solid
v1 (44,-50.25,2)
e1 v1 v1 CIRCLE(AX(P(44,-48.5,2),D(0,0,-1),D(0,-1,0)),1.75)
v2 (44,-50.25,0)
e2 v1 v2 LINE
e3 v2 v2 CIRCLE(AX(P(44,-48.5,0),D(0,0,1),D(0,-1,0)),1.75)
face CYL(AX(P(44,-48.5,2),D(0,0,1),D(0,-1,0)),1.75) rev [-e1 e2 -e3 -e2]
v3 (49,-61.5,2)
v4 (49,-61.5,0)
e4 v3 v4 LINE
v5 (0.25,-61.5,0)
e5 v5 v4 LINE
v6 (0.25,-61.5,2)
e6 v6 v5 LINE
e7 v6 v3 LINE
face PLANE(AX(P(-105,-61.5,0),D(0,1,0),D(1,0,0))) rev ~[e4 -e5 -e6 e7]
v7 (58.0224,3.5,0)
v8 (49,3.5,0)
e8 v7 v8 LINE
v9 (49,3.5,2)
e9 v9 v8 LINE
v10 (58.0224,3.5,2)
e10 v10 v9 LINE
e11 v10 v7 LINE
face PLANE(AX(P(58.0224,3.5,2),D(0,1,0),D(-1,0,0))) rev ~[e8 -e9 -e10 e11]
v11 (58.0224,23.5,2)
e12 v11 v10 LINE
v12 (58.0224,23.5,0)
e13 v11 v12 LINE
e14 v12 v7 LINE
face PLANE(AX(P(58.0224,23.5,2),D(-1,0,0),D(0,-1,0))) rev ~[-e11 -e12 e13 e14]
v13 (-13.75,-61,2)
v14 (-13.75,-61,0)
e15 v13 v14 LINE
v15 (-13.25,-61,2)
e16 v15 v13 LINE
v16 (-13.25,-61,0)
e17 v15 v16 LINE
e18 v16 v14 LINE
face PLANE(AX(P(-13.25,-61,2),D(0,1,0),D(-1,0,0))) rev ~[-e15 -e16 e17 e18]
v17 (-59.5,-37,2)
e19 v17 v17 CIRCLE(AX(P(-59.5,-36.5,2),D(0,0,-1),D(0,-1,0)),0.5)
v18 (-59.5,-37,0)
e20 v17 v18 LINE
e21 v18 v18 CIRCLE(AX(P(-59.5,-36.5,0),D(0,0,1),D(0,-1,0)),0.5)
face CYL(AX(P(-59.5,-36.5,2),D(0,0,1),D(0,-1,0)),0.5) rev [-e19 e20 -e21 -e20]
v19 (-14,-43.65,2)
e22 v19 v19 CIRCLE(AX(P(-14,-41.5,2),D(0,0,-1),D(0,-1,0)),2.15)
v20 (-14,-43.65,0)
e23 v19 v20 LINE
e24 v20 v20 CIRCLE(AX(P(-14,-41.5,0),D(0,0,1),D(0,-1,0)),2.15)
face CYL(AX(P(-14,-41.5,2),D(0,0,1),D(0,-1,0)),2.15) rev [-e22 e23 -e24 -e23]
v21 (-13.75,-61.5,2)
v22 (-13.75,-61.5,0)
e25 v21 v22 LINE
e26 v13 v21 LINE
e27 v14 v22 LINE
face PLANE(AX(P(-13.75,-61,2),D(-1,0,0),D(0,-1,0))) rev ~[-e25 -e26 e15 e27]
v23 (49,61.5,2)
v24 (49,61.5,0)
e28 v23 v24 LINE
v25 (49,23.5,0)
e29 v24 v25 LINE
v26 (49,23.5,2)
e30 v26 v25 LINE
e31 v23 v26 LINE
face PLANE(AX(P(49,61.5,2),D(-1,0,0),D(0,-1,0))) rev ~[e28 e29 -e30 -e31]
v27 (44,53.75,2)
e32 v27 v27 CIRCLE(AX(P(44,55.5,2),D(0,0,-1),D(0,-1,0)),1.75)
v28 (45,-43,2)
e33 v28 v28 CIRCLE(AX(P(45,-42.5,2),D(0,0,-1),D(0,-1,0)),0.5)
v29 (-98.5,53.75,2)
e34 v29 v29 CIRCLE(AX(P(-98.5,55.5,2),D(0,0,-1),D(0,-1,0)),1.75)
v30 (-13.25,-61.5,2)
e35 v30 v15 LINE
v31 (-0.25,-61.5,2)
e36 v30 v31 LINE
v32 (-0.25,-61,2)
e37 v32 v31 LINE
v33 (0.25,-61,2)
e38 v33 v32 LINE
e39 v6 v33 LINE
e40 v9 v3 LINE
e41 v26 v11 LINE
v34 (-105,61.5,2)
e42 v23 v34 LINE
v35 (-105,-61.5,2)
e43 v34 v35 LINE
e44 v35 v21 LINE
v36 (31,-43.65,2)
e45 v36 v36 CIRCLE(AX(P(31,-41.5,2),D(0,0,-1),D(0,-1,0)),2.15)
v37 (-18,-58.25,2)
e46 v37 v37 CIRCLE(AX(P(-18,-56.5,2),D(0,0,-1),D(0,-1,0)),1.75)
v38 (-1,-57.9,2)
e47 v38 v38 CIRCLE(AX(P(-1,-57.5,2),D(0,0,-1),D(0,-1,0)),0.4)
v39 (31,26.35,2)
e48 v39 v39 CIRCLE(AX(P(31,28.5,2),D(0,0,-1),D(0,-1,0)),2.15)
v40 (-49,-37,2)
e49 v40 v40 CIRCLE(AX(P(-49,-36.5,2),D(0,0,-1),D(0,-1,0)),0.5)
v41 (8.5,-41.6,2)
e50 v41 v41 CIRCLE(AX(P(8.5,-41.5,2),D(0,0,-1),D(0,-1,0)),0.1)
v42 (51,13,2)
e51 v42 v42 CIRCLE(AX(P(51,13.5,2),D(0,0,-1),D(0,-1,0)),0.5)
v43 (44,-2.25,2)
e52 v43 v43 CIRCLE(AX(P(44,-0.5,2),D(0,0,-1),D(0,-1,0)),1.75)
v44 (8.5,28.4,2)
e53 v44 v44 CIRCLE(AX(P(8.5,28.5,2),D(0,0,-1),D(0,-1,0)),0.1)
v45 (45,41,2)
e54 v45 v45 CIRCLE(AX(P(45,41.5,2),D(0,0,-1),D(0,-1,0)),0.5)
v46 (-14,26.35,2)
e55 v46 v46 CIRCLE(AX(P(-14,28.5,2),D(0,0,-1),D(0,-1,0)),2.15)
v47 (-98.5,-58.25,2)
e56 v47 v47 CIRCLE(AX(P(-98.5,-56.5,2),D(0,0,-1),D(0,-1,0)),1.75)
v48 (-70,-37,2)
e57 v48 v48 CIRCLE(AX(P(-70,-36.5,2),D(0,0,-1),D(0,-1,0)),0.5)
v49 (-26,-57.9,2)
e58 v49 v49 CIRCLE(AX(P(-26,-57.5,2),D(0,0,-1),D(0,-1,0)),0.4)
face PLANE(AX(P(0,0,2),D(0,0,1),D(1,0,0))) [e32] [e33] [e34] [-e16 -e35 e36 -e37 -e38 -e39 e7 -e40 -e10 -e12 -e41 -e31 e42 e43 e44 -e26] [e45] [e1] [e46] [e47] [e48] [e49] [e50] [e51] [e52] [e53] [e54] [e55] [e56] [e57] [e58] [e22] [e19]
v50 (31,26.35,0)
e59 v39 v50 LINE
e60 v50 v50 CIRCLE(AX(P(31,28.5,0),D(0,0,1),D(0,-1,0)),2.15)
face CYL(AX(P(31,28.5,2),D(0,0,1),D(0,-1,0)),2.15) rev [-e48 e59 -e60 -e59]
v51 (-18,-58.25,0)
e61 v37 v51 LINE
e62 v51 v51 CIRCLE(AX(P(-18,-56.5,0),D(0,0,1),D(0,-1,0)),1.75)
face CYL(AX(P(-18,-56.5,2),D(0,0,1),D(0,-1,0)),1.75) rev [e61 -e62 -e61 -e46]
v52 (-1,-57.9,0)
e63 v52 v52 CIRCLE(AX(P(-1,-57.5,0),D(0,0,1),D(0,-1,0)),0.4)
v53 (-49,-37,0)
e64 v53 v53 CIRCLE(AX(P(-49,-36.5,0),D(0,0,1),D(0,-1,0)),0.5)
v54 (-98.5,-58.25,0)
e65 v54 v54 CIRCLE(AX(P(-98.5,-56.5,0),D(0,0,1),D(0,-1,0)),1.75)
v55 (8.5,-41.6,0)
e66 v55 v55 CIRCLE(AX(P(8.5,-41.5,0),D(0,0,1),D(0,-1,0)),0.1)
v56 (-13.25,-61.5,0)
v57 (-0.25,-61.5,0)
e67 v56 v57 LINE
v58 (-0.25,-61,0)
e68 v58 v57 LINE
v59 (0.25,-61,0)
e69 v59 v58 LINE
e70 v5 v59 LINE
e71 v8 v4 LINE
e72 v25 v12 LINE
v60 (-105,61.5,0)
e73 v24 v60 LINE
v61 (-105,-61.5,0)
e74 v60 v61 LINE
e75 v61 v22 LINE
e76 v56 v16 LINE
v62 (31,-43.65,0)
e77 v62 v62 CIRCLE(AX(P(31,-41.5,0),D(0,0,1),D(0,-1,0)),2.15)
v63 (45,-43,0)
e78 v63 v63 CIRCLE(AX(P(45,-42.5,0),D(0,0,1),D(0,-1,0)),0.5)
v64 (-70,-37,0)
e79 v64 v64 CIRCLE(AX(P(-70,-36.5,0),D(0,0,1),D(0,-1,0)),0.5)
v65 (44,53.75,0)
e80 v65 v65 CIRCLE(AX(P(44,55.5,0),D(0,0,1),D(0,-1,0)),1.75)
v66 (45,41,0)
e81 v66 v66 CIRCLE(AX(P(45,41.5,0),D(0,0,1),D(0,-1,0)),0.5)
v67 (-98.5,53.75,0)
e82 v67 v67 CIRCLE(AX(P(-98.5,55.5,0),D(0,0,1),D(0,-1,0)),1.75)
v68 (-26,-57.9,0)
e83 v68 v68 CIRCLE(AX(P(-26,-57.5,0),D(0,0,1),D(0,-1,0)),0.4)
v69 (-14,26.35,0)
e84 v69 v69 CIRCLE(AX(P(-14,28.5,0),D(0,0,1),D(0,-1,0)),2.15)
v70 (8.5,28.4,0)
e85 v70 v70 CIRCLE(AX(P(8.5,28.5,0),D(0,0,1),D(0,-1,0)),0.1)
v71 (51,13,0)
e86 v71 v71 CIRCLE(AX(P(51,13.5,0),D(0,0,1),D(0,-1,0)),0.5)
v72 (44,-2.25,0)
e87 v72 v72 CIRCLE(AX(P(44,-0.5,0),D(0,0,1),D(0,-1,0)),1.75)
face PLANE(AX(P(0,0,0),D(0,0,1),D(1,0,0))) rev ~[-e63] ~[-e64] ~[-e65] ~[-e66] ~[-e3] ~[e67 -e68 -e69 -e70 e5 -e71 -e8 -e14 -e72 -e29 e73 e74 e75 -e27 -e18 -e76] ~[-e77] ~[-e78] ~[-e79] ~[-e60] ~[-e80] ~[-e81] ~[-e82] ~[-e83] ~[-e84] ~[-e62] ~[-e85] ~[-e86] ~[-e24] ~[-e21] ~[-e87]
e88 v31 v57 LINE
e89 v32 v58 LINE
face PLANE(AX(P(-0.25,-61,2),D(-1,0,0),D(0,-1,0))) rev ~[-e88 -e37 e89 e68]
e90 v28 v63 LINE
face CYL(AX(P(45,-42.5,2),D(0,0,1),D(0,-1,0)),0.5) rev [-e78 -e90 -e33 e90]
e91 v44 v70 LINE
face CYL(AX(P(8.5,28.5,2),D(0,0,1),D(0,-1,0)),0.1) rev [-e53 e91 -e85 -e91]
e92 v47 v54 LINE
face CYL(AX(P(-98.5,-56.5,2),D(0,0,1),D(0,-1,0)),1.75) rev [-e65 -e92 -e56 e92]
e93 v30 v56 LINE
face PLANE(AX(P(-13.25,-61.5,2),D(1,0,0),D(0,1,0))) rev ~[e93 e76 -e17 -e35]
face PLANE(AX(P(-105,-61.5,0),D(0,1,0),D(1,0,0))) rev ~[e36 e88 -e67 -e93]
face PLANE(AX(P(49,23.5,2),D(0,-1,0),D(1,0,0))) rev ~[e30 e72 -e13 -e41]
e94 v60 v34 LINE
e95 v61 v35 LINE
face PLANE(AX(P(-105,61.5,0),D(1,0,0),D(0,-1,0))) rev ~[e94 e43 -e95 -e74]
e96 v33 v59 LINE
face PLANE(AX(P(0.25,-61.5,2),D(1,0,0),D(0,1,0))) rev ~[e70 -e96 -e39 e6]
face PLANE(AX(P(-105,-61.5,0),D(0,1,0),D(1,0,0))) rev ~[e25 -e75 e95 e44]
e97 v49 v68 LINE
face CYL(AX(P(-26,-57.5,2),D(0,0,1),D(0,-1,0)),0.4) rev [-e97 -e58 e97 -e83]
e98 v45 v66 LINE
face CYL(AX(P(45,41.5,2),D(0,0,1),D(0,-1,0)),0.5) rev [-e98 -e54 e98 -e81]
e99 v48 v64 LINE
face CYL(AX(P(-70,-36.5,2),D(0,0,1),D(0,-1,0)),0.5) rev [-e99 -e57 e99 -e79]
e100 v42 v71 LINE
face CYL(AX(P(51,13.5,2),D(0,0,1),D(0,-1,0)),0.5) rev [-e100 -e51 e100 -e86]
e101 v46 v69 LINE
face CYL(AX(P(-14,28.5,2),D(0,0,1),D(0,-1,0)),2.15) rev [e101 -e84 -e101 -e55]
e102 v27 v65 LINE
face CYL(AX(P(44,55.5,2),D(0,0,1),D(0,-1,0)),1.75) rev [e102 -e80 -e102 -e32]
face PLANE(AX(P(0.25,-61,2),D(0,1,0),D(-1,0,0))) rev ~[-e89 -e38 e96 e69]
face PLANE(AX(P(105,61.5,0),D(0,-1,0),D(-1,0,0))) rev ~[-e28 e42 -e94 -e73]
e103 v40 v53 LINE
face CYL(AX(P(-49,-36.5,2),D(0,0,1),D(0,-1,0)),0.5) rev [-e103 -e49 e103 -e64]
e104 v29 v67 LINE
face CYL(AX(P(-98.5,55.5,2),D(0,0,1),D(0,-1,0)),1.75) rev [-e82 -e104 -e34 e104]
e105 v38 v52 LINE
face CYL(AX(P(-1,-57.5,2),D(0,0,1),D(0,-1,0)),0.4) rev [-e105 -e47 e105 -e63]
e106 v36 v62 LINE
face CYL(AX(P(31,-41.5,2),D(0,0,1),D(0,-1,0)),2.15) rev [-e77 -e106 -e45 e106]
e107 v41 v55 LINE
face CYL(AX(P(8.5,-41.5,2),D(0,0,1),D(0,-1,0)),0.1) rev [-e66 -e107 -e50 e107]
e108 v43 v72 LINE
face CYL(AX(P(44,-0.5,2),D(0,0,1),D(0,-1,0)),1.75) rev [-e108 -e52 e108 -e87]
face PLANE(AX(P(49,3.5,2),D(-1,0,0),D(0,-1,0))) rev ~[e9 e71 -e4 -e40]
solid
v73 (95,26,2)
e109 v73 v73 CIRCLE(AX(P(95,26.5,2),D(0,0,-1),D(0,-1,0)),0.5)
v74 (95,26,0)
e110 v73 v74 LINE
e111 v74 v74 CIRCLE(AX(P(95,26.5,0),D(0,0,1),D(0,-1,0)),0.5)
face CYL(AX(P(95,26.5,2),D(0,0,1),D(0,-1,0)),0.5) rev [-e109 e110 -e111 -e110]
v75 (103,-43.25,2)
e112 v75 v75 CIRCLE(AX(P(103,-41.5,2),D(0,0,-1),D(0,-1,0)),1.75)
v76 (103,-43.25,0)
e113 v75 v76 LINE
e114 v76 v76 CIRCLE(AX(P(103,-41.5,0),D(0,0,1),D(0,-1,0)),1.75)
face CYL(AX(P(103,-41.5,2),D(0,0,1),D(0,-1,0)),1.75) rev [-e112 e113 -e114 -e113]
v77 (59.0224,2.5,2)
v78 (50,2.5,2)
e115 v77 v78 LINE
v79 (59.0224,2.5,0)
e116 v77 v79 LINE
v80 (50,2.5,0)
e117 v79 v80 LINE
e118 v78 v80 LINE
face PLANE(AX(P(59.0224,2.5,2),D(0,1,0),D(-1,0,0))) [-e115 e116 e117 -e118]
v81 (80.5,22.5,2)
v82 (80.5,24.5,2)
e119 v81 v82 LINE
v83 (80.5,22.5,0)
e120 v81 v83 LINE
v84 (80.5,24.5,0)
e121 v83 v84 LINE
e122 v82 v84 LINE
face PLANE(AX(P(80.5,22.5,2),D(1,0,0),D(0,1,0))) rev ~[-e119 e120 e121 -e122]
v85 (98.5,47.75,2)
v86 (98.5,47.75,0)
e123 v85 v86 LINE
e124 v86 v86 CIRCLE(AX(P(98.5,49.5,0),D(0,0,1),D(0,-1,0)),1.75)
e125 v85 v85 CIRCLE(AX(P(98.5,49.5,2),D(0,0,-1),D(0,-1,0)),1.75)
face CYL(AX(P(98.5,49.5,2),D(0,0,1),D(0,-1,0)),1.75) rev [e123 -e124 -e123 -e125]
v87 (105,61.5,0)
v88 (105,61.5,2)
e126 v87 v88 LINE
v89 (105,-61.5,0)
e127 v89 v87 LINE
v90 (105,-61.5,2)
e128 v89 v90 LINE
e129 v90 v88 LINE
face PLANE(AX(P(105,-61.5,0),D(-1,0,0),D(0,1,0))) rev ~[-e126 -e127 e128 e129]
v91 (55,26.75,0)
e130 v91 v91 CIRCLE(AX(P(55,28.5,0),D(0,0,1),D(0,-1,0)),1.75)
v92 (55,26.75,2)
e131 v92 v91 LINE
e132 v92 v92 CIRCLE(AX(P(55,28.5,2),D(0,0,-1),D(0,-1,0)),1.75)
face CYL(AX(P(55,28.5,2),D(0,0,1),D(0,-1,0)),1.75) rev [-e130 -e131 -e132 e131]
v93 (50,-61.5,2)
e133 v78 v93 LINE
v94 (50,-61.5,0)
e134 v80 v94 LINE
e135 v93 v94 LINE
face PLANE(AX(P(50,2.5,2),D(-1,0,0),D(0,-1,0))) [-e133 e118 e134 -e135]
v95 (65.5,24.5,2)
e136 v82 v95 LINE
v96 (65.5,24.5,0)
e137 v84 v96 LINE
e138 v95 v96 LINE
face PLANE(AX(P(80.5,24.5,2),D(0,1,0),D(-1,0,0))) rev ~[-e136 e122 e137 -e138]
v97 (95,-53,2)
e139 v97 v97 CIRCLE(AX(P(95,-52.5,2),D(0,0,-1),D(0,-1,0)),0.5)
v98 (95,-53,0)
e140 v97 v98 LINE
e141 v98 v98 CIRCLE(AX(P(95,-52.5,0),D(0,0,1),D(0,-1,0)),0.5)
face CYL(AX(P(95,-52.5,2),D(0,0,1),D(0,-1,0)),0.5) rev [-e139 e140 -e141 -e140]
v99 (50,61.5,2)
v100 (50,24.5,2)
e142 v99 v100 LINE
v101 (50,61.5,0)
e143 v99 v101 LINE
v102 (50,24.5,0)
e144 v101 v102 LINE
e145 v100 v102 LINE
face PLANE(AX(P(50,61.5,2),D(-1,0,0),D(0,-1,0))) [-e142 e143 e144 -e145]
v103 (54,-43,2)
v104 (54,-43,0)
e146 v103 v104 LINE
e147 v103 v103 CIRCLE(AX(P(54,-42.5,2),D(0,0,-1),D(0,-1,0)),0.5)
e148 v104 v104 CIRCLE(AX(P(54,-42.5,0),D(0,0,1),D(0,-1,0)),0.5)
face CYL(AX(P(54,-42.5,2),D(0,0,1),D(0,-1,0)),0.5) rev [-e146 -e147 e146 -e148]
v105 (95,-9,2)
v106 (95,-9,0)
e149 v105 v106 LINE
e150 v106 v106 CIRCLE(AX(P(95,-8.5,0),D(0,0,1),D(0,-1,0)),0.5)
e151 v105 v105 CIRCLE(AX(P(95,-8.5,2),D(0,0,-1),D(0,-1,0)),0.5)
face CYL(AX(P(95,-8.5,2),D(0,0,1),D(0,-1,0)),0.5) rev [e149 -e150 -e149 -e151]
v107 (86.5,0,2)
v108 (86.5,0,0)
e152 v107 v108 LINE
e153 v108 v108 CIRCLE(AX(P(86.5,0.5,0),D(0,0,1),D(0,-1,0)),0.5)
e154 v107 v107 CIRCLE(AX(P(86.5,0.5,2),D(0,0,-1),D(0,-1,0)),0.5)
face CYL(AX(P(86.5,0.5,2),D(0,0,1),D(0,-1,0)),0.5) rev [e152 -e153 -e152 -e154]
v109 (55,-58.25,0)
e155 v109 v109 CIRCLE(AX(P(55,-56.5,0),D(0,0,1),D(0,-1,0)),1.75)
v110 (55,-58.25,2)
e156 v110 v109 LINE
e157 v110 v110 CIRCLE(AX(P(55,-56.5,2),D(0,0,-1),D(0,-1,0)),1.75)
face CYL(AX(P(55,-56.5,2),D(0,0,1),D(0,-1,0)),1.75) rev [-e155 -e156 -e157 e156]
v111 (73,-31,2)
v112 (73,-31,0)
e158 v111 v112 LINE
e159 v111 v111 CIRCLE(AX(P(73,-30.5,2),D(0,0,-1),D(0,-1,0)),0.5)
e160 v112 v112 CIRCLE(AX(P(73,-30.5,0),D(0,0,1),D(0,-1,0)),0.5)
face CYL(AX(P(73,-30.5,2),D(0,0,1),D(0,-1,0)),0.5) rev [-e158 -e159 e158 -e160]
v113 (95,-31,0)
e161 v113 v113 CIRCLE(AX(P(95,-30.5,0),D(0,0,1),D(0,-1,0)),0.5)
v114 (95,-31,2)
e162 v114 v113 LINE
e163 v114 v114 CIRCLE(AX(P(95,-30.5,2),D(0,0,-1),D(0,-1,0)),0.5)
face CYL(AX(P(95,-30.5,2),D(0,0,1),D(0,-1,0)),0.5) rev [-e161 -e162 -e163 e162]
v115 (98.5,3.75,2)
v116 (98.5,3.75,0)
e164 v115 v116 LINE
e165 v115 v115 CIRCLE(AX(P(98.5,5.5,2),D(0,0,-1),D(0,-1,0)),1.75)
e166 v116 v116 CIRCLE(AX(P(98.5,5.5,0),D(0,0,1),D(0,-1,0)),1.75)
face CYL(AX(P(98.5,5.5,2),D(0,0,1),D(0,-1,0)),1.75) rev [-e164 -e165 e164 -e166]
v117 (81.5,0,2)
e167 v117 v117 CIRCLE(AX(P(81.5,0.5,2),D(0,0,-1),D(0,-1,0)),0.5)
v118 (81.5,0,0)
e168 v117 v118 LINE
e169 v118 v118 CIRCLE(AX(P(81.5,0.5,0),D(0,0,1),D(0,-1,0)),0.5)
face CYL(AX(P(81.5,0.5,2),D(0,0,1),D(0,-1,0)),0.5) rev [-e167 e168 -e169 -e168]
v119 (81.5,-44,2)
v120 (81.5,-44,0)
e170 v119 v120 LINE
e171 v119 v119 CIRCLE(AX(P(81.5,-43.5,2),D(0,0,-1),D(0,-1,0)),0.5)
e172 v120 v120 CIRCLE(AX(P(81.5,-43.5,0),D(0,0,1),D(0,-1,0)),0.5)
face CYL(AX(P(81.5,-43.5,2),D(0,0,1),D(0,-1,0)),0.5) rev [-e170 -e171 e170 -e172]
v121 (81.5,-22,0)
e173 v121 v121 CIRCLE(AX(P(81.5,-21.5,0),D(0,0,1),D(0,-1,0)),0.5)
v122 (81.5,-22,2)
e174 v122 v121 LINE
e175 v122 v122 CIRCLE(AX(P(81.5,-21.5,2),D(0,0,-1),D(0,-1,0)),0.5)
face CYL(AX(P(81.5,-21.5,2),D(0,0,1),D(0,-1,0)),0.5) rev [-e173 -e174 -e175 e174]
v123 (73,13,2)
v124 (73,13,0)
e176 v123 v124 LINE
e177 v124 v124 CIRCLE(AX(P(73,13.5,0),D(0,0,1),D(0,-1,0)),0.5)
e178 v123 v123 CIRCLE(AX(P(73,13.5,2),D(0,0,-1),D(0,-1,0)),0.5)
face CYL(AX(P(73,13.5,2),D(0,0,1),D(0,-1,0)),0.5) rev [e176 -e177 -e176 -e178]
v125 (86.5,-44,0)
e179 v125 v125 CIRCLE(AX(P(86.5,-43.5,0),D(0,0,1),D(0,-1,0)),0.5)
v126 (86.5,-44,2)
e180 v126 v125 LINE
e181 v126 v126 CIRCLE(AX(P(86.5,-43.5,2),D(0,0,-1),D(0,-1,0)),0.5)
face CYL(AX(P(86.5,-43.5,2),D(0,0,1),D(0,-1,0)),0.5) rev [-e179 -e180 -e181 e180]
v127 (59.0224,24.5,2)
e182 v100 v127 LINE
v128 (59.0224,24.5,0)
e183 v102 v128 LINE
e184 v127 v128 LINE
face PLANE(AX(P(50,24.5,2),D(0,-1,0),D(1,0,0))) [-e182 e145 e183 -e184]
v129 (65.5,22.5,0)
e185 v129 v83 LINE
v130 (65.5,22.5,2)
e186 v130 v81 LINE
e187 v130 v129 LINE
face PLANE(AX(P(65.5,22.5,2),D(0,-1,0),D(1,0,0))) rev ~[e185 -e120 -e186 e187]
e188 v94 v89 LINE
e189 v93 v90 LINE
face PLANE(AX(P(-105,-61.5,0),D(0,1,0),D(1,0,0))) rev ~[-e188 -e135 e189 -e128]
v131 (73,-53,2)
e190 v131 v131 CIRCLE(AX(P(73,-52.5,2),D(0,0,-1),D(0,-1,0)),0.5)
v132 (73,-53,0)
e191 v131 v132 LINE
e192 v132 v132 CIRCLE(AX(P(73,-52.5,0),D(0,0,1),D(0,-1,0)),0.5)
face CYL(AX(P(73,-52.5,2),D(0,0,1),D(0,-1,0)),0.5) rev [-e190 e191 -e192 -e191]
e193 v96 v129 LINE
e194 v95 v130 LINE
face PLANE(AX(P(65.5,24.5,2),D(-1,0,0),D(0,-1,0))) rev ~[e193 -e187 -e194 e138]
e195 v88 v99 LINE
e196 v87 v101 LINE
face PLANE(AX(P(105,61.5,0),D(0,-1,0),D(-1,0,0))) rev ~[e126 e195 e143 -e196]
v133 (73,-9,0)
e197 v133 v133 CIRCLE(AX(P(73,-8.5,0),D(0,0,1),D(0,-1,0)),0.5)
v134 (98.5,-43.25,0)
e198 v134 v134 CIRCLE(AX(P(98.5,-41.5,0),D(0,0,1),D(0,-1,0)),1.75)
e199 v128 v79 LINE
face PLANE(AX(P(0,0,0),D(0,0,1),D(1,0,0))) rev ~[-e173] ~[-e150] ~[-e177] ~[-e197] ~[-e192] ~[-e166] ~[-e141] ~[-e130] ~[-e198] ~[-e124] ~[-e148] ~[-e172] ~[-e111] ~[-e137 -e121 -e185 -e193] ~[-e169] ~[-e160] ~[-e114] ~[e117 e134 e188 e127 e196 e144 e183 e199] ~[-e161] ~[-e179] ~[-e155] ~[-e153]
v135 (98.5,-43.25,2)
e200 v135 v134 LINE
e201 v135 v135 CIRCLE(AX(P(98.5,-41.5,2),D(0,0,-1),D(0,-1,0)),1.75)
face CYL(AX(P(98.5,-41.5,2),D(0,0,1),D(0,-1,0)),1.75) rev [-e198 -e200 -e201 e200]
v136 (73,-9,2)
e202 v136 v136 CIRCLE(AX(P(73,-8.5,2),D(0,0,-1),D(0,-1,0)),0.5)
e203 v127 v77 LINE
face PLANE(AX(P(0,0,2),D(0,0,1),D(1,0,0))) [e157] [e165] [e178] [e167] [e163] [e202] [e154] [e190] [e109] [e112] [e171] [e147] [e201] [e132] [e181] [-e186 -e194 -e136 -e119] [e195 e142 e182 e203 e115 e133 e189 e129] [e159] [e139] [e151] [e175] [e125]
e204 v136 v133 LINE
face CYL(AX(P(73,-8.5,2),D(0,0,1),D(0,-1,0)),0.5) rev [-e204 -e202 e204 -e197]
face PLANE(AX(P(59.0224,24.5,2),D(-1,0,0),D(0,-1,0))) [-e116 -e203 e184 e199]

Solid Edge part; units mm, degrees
sketch "Sketch1" plane through (0, 0, 0) normal (0, 0, 1) x (1, 0, 0)
  line L0 (-105, -61.5) -> (105, -61.5)
  line L1 (105, -61.5) -> (105, 61.5)
  line L2 (105, 61.5) -> (-105, 61.5)
  line L3 (-105, 61.5) -> (-105, -61.5)
  dimension "D1" = 123
  dimension "D2" = 210
extrude "Protrusion1" add sketch "Sketch1" along normal blind 2
hole "Hole1" at (-1, -57.5, 2) direction (0, 0, -1) diameter 0.8 end through all
hole "Hole2" at (-26, -57.5, 2) direction (0, 0, -1) diameter 0.8 end through all
sketch "Sketch2" plane through (0, 0, 2) normal (0, 0, 1) x (-1, 0, 0)
  line L0 (-0.25, 61) -> (0.25, 61)
  line L1 (0.25, 61) -> (0.25, 61.5)
  line L2 (0.25, 61.5) -> (-0.25, 61.5)
  line L3 (-0.25, 61.5) -> (-0.25, 61)
  dimension "D1" = 0.5
extrude "Cutout1" cut sketch "Sketch2" against normal through all
hole "Hole3" at (73, -52.5, 2) direction (0, 0, -1) diameter 1 end through all
hole "Hole4" at (73, -30.5, 2) direction (0, 0, -1) diameter 1 end through all
hole "Hole5" at (73, -8.5, 2) direction (0, 0, -1) diameter 1 end through all
hole "Hole6" at (95, -8.5, 2) direction (0, 0, -1) diameter 1 end through all
hole "Hole7" at (95, -30.5, 2) direction (0, 0, -1) diameter 1 end through all
hole "Hole8" at (73, 13.5, 2) direction (0, 0, -1) diameter 1 end through all
hole "Hole9" at (95, -52.5, 2) direction (0, 0, -1) diameter 1 end through all
sketch "Sketch3" plane through (0, 0, 2) normal (0, 0, 1) x (1, 0, 0)
  line L0 (65.5, 22.5) -> (80.5, 22.5)
  line L1 (80.5, 22.5) -> (80.5, 24.5)
  line L2 (80.5, 24.5) -> (65.5, 24.5)
  line L3 (65.5, 24.5) -> (65.5, 22.5)
  dimension "D1" = 15
  dimension "D2" = 2
  dimension "D3" = 32
  dimension "D4" = 38
extrude "Cutout2" cut sketch "Sketch3" against normal through all
sketch "Sketch4" plane through (0, 0, 2) normal (0, 0, 1) x (1, 0, 0)
  line L0 (49, 61.5) -> (49, 23.5)
  line L1 (49, 23.5) -> (58.0224, 23.5)
  line L2 (58.0224, 23.5) -> (58.0224, 3.5)
  line L3 (58.0224, 3.5) -> (49, 3.5)
  line L4 (49, 3.5) -> (49, -61.5)
  line L5 (49, -61.5) -> (50, -61.5)
  line L6 (50, 2.5) -> (50, -61.5)
  line L7 (59.0224, 2.5) -> (50, 2.5)
  line L8 (59.0224, 24.5) -> (59.0224, 2.5)
  line L9 (50, 24.5) -> (59.0224, 24.5)
  line L10 (50, 61.5) -> (50, 24.5)
  line L11 (50, 61.5) -> (49, 61.5)
  dimension "D1" = 154
  dimension "D2" = 20
  dimension "D3" = 38
  dimension "D4" = 1
extrude "Ausschnitt_3" cut sketch "Sketch4" against normal blind 2
hole "Hole10" at (-98.5, 55.5, 2) direction (0, 0, -1) diameter 3.5 end through all
hole "Hole11" at (44, 55.5, 2) direction (0, 0, -1) diameter 3.5 end through all
hole "Hole12" at (98.5, 49.5, 2) direction (0, 0, -1) diameter 3.5 end through all
hole "Hole13" at (98.5, -41.5, 2) direction (0, 0, -1) diameter 3.5 end through all
hole "Hole14" at (44, -48.5, 2) direction (0, 0, -1) diameter 3.5 end through all
hole "Hole15" at (55, -56.5, 2) direction (0, 0, -1) diameter 3.5 end through all
hole "Hole16" at (-18, -56.5, 2) direction (0, 0, -1) diameter 3.5 end through all
hole "Hole17" at (98.5, 5.5, 2) direction (0, 0, -1) diameter 3.5 end through all
hole "Hole18" at (-98.5, -56.5, 2) direction (0, 0, -1) diameter 3.5 end through all
hole "Hole19" at (55, 28.5, 2) direction (0, 0, -1) diameter 3.5 end through all
hole "Hole20" at (44, -0.5, 2) direction (0, 0, -1) diameter 3.5 end through all
hole "Befestigungsbohrung_Plus" at (103, -41.5, 2) direction (0, 0, -1) diameter 3.5 end through all
hole "Hole21" at (54, -42.5, 2) direction (0, 0, -1) diameter 1 end through all
hole "Hole22" at (45, -42.5, 2) direction (0, 0, -1) diameter 1 end through all
hole "Hole23" at (45, 41.5, 2) direction (0, 0, -1) diameter 1 end through all
hole "Hole24" at (51, 13.5, 2) direction (0, 0, -1) diameter 1 end through all
hole "Inkrementalgeber" at (95, 26.5, 2) direction (0, 0, -1) diameter 1 end through all
hole "Hole25" at (81.5, -43.5, 2) direction (0, 0, -1) diameter 1 end through all
hole "Hole26" at (81.5, -21.5, 2) direction (0, 0, -1) diameter 1 end through all
hole "Hole27" at (81.5, 0.5, 2) direction (0, 0, -1) diameter 1 end through all
hole "Hole28" at (86.5, 0.5, 2) direction (0, 0, -1) diameter 1 end through all
hole "Hole29" at (86.5, -43.5, 2) direction (0, 0, -1) diameter 1 end through all
hole "Hole30" at (-59.5, -36.5, 2) direction (0, 0, -1) diameter 1 end through all
hole "Hole31" at (-49, -36.5, 2) direction (0, 0, -1) diameter 1 end through all
hole "Hole32" at (-70, -36.5, 2) direction (0, 0, -1) diameter 1 end through all
hole "Hole33" at (31, 28.5, 2) direction (0, 0, -1) diameter 4.3 end up to next
hole "Hole34" at (31, -41.5, 2) direction (0, 0, -1) diameter 4.3 end up to next
hole "Hole35" at (-14, -41.5, 2) direction (0, 0, -1) diameter 4.3 end up to next
hole "Hole36" at (-14, 28.5, 2) direction (0, 0, -1) diameter 4.3 end up to next
hole "Hole37" at (8.5, -41.5, 2) direction (0, 0, -1) diameter 0.2 end through all
hole "Hole38" at (8.5, 28.5, 2) direction (0, 0, -1) diameter 0.2 end through all
sketch "Sketch5" plane through (-23.4888, 0, 2) normal (0, 0, 1) x (1, 0, 0)
  line L0 (9.7388, -61.5) -> (10.2388, -61.5)
  line L1 (10.2388, -61.5) -> (10.2388, -61)
  line L2 (10.2388, -61) -> (9.7388, -61)
  line L3 (9.7388, -61) -> (9.7388, -61.5)
  dimension "D1" = 0.5
extrude "Cutout3" cut sketch "Sketch5" against normal through all
